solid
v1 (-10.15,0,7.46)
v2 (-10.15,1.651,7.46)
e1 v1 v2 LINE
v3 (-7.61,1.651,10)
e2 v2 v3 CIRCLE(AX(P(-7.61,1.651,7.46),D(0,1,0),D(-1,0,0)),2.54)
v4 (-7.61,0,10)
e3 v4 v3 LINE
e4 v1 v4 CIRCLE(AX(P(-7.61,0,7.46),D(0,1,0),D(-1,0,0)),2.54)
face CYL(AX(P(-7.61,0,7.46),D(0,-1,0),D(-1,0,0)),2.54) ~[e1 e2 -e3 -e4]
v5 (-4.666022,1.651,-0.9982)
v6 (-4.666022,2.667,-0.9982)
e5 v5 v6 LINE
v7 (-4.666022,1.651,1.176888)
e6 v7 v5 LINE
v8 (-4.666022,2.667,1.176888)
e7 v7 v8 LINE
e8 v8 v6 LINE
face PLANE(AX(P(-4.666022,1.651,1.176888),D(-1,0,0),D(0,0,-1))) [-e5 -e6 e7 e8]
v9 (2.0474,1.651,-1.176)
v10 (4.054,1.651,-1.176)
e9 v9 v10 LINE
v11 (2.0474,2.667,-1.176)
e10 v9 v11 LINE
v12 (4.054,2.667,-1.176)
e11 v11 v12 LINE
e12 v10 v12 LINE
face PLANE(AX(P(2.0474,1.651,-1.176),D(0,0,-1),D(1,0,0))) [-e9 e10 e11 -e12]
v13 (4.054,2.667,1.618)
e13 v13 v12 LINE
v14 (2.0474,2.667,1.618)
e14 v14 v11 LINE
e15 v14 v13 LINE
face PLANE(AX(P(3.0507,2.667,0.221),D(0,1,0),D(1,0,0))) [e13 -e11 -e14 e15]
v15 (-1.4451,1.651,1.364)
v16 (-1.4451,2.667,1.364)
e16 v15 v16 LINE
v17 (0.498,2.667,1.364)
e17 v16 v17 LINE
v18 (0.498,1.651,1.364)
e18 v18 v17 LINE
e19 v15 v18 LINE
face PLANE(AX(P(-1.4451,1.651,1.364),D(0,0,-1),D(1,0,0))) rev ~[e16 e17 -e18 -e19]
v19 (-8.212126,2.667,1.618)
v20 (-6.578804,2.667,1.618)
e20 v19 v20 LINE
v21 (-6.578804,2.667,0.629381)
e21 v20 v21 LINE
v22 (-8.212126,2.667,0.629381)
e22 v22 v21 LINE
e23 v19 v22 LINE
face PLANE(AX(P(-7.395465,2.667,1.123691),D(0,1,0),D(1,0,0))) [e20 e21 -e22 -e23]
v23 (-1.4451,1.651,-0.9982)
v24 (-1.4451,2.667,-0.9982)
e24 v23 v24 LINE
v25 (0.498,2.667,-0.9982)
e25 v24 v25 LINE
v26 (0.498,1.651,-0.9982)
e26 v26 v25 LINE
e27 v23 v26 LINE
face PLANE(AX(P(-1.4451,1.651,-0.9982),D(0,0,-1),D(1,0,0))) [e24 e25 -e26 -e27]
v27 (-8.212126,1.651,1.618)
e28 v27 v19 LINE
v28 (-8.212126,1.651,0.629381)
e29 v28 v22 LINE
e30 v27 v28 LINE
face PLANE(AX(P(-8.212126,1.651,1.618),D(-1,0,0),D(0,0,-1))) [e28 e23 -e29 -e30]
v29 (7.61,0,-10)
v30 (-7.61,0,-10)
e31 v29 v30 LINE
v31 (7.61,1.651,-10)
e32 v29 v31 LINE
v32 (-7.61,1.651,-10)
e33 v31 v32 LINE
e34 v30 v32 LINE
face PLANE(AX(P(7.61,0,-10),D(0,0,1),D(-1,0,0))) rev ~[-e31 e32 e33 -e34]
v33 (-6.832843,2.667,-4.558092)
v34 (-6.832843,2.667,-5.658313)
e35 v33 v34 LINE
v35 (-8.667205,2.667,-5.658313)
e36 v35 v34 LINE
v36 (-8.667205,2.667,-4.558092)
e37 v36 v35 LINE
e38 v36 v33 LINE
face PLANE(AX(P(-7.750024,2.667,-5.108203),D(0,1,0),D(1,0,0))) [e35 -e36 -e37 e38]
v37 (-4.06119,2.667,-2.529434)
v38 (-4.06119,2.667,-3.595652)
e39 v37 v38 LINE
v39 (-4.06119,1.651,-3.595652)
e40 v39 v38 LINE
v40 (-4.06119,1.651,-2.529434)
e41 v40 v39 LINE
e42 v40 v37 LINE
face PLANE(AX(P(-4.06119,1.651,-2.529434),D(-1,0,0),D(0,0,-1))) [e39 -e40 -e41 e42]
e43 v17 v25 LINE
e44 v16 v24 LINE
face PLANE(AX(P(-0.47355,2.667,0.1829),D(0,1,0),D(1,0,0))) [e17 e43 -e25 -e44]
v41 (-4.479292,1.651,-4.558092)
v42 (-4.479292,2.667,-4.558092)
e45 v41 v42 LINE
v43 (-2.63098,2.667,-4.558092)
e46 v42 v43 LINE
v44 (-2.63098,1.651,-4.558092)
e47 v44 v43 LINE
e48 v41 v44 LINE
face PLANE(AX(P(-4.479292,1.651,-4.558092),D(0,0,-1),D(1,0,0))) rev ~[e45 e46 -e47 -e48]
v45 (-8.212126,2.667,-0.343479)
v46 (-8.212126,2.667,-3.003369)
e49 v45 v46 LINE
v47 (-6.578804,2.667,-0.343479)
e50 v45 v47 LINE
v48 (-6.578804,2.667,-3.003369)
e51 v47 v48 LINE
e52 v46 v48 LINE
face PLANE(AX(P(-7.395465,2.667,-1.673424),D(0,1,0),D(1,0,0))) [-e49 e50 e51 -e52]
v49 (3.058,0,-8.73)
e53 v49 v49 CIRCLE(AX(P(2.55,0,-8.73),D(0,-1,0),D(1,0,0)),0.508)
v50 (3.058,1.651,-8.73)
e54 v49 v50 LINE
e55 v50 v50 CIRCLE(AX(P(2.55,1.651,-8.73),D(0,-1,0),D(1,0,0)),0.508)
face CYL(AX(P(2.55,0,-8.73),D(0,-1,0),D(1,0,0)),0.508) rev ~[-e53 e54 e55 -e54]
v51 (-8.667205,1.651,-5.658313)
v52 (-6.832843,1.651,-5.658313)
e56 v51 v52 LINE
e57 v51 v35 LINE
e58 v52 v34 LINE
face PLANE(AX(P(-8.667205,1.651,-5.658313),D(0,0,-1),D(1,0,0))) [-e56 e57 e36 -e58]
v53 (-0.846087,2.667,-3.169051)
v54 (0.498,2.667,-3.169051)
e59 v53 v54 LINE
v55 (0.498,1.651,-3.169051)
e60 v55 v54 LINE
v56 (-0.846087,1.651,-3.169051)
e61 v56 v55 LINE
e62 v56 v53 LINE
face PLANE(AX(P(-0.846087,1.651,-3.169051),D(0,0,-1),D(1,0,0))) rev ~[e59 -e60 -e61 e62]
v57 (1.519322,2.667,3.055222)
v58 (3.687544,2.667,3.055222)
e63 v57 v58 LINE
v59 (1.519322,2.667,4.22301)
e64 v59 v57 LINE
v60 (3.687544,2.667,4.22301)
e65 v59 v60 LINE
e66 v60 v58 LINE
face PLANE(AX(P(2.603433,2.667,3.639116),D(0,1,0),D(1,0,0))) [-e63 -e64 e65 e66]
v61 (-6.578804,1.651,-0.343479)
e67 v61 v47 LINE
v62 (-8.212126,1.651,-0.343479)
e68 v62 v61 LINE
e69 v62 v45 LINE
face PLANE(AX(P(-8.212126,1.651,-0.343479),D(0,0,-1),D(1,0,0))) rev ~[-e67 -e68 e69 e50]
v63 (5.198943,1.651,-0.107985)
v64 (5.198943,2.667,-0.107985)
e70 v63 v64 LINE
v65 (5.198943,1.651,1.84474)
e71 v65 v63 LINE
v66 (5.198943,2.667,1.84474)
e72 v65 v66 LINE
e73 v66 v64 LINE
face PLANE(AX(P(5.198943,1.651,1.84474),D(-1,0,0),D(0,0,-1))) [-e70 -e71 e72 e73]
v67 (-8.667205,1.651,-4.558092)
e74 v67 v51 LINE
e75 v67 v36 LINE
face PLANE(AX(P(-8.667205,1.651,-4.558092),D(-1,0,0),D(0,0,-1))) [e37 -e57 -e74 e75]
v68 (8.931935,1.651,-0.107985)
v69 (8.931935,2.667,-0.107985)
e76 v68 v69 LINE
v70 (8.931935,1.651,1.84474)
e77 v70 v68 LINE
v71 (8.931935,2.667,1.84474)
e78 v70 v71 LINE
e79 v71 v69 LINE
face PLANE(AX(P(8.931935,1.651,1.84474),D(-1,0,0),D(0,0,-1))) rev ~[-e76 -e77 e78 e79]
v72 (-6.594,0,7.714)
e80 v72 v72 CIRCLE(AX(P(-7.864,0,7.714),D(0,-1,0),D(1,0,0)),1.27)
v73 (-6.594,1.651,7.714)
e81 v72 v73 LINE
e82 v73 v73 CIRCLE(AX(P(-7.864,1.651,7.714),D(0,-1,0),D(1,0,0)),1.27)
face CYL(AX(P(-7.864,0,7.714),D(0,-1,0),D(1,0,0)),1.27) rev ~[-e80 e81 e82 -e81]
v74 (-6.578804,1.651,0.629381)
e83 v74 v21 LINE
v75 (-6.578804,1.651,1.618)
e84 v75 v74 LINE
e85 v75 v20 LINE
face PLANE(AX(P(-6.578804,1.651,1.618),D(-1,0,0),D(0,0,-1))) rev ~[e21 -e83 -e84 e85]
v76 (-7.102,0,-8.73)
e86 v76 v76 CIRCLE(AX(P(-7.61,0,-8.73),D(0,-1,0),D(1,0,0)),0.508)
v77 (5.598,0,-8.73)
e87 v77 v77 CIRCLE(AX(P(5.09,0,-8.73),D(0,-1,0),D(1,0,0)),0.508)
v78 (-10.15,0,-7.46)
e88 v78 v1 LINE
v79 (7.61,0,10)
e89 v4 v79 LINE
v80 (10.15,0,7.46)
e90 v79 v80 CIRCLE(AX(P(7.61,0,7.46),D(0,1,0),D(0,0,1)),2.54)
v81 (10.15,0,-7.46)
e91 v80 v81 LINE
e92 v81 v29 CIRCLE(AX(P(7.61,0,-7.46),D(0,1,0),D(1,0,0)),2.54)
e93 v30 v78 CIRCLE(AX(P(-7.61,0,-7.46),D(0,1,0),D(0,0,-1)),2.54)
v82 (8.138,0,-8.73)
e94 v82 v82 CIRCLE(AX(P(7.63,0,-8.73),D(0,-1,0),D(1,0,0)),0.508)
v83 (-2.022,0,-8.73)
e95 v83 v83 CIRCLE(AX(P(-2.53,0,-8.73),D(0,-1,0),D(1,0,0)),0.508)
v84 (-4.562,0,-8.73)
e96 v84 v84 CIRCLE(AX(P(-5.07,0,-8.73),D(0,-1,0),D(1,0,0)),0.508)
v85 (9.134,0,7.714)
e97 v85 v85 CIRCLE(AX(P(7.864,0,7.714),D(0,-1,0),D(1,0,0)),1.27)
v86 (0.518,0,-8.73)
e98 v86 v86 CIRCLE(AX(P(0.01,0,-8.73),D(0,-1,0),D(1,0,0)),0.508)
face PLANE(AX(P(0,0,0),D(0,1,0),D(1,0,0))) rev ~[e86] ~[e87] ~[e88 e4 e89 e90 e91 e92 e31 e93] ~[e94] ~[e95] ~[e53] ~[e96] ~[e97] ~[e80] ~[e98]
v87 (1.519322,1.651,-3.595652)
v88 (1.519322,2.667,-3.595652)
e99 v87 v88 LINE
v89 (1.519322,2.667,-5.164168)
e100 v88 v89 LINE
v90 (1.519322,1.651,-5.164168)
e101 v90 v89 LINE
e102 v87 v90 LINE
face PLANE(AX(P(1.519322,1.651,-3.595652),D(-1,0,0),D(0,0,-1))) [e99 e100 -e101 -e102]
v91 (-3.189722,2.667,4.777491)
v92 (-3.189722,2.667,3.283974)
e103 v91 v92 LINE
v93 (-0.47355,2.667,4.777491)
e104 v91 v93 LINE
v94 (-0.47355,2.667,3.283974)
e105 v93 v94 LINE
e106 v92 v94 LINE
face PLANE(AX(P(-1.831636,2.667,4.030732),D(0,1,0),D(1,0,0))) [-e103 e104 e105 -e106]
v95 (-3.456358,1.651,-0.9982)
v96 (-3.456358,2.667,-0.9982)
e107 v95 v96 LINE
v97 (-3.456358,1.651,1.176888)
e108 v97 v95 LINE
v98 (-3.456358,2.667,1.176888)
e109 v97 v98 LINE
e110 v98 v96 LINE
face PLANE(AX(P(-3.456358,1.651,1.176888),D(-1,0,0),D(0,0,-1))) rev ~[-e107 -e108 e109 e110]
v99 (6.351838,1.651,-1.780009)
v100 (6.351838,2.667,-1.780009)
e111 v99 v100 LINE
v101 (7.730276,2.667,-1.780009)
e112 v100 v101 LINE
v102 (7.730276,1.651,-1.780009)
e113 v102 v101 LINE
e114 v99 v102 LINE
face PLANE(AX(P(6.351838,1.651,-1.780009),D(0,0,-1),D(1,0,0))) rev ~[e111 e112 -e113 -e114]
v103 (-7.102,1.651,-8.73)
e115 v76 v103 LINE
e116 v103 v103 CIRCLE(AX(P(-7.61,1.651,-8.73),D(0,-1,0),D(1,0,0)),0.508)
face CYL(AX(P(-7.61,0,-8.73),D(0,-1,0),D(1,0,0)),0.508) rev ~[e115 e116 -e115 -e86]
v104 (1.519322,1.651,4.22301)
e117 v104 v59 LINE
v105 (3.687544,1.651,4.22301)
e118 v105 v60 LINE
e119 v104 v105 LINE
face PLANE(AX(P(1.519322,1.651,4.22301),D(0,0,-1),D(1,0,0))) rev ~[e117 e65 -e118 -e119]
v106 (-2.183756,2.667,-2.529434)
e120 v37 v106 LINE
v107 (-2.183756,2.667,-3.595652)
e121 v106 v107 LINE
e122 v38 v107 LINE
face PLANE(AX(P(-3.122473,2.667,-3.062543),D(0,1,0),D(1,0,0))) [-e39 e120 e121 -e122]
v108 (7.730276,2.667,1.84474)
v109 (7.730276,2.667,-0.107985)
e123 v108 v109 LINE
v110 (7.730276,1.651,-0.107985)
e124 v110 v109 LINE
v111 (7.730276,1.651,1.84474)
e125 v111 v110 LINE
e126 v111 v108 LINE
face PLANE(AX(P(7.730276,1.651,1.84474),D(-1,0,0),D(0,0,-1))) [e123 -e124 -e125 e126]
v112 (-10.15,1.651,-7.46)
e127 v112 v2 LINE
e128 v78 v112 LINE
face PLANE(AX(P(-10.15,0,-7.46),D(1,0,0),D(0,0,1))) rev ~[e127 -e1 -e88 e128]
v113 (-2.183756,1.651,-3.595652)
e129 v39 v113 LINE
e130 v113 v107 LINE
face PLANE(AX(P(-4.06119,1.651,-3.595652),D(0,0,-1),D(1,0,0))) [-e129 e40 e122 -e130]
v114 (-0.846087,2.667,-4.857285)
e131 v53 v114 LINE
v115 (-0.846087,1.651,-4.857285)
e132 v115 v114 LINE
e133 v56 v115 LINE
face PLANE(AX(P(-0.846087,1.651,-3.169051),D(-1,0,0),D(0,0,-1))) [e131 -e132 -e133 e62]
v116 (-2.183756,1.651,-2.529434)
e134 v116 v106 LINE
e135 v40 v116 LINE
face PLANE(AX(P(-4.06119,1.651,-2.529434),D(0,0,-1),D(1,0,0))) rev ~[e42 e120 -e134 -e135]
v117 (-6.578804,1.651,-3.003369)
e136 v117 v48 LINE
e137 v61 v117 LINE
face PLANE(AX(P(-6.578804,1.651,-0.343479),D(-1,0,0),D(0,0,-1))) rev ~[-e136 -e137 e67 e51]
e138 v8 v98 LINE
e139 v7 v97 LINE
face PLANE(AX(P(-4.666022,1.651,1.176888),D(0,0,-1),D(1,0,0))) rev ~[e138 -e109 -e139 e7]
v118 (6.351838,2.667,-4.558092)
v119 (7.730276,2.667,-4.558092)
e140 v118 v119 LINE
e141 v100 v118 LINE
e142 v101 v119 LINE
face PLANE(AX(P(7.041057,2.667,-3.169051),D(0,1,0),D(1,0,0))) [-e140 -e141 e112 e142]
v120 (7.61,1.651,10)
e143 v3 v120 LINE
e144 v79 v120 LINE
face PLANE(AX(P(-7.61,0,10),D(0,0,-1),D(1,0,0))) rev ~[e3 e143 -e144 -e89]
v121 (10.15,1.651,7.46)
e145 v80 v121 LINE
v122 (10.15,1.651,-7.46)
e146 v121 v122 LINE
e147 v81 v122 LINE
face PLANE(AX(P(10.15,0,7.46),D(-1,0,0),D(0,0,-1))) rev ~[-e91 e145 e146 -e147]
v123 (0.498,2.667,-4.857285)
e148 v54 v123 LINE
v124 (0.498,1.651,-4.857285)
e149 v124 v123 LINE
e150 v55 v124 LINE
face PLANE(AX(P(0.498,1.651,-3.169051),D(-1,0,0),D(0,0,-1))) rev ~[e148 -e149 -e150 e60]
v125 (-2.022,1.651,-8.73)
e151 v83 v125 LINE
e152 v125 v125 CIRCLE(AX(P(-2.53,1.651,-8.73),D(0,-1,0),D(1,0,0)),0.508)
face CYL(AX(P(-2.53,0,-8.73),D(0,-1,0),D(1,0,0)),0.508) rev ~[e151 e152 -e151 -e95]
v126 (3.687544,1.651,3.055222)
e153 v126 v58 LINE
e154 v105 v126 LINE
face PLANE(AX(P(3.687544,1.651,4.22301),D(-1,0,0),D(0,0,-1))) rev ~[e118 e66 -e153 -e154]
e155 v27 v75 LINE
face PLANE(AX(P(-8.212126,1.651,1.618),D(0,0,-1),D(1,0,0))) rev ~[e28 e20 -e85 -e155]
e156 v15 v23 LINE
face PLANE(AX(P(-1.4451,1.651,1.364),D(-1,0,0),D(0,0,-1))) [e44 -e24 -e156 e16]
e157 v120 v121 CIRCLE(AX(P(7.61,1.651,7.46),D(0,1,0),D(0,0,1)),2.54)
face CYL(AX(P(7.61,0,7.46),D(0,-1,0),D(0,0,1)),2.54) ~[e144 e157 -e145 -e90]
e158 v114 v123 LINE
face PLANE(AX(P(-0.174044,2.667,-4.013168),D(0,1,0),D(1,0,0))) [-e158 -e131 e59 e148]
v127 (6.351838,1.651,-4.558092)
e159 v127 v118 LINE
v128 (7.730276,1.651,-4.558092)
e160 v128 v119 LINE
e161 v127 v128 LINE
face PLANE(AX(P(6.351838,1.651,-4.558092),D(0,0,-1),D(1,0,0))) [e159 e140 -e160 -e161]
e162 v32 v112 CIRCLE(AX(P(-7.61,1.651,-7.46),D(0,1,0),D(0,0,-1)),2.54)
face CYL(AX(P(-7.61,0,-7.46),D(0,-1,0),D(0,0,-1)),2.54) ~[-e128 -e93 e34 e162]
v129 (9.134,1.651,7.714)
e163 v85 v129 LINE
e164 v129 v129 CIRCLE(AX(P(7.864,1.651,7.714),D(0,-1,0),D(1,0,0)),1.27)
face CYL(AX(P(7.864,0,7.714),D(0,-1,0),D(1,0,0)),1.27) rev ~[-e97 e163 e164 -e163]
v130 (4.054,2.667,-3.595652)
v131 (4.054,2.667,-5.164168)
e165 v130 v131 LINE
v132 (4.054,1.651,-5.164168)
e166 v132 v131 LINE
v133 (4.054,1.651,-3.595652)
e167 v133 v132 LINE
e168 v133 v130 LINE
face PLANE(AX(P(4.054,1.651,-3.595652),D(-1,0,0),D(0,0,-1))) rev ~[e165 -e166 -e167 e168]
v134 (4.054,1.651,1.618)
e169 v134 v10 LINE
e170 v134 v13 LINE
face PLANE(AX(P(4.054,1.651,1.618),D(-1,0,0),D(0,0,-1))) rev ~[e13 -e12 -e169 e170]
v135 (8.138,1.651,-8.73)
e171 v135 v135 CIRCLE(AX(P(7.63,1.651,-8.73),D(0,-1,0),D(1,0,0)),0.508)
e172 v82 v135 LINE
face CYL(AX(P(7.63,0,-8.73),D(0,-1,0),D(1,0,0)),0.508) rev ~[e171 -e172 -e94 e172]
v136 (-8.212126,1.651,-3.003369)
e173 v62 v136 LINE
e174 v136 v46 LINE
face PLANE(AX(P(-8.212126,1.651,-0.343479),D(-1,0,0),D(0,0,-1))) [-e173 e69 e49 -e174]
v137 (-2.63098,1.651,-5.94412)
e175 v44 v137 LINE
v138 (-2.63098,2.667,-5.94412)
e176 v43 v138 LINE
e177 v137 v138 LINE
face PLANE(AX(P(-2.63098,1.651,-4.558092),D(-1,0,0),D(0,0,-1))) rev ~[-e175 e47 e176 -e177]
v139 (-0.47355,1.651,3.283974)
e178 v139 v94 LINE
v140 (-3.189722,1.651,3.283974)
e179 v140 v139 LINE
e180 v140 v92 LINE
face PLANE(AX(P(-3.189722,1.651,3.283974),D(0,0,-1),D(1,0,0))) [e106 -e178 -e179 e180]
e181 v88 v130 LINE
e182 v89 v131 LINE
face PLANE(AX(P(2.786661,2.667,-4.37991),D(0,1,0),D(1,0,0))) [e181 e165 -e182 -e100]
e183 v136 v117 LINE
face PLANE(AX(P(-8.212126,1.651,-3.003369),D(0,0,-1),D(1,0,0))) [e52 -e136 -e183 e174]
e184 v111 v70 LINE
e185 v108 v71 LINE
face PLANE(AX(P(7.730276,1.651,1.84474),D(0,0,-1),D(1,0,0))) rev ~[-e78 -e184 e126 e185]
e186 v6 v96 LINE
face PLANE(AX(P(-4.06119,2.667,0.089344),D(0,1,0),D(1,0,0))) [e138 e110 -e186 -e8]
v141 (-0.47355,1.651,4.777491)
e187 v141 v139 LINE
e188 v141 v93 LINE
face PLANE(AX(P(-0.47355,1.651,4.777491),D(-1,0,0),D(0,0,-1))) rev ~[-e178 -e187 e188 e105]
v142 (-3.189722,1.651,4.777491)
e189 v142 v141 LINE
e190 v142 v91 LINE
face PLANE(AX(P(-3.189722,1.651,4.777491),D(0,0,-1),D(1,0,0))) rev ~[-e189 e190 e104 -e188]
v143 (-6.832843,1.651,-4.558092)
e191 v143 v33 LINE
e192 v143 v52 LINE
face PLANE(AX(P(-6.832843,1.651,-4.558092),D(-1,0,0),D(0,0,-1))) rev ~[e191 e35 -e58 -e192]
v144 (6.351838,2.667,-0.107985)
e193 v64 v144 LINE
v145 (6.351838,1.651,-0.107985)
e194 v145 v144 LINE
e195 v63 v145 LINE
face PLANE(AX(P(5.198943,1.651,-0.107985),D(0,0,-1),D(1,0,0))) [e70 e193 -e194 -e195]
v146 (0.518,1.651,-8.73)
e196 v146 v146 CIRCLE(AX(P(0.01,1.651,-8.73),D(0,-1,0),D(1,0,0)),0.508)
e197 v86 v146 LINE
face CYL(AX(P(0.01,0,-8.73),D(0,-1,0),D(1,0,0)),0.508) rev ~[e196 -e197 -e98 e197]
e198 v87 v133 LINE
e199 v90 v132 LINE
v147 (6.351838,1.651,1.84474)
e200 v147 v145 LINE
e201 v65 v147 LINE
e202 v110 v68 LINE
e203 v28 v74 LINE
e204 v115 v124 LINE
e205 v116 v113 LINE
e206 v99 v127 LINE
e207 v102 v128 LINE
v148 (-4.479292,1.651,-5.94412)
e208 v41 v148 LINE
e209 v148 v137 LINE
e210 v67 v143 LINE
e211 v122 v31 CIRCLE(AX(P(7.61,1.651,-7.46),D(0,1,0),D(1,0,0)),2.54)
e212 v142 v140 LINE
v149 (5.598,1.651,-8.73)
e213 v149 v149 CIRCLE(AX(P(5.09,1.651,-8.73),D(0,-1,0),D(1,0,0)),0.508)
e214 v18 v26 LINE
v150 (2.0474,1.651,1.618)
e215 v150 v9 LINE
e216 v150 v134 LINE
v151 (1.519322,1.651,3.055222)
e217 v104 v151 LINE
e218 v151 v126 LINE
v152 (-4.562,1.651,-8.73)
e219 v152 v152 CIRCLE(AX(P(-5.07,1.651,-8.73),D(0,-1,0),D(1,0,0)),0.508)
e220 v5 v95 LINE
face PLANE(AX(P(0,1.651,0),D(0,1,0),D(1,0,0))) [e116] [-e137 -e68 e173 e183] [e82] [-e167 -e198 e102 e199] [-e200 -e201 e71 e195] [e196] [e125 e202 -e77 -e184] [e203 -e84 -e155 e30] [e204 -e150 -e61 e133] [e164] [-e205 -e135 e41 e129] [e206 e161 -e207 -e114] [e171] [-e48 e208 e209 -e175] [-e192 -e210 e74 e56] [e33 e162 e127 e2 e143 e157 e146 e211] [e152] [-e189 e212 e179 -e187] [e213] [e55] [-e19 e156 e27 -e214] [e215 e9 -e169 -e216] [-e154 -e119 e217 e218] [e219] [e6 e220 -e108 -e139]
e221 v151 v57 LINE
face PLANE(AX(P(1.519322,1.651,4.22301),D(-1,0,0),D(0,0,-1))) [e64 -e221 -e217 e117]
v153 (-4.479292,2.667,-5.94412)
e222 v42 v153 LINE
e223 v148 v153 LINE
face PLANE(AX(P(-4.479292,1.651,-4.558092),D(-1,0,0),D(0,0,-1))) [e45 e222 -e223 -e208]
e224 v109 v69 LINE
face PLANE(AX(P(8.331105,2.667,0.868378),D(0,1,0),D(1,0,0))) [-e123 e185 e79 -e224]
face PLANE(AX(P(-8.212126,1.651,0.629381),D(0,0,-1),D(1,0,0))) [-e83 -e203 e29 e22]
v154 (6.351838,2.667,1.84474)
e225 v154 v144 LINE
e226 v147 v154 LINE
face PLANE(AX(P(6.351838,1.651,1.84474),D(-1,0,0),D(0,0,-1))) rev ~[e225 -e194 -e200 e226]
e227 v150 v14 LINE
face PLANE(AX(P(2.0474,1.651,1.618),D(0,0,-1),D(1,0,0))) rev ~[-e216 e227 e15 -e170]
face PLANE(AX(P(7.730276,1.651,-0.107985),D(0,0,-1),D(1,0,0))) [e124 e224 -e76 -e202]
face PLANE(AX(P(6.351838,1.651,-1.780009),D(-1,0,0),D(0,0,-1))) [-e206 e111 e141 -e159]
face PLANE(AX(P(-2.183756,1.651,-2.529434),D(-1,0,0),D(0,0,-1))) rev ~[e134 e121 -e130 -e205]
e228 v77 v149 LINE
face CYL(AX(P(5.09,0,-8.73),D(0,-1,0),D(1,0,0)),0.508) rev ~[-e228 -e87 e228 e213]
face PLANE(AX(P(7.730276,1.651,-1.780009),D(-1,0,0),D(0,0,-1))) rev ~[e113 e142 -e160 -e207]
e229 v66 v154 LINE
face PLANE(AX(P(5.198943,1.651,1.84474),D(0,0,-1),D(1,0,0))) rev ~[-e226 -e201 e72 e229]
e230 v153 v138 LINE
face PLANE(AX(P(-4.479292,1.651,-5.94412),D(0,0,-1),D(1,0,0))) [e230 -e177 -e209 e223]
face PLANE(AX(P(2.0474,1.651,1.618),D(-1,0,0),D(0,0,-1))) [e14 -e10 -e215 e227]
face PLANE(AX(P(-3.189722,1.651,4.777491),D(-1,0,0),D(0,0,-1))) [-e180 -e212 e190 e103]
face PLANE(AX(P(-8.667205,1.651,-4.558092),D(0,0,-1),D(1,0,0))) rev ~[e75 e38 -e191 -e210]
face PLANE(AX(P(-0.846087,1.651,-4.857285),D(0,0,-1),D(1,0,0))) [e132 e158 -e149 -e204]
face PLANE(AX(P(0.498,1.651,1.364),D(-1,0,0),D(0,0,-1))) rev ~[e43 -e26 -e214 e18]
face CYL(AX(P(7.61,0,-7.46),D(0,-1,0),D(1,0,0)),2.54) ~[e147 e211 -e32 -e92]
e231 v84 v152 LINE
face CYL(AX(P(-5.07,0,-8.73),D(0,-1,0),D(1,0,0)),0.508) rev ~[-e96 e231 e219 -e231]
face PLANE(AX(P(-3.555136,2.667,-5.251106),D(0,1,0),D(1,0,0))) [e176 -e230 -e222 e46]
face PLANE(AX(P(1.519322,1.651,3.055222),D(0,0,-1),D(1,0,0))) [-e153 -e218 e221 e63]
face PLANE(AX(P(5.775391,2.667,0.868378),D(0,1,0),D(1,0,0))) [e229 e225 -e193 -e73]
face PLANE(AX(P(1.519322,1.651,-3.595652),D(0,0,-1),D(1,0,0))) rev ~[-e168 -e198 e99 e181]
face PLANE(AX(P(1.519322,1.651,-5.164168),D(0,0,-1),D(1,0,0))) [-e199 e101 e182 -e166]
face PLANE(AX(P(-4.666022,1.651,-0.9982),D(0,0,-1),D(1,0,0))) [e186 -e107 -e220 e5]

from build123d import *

# Parameters (mm, degrees)
PCB_DEPTH          = 1.651
SKETCH2_R          = 1.27
SKETCH2_R_2        = 0.508
CUT_EXTRUDE1_DEPTH = 2.651
SKETCH3_W          = 1.9431
SKETCH3_H          = 2.3622
SKETCH3_W_2        = 2.0066
SKETCH3_H_2        = 2.794
SKETCH3_W_3        = 2.16822249
SKETCH3_H_3        = 1.167787324
SKETCH3_W_4        = 2.716171955
SKETCH3_H_4        = 1.493517176
SKETCH3_W_5        = 1.209663862
SKETCH3_H_5        = 2.17508788
SKETCH3_W_6        = 1.633321627
SKETCH3_H_6        = 2.659890245
SKETCH3_W_7        = 1.834361491
SKETCH3_H_7        = 1.100221283
SKETCH3_W_8        = 1.848311781
SKETCH3_H_8        = 1.38602823
SKETCH3_W_9        = 1.877433771
SKETCH3_H_9        = 1.066217503
SKETCH3_H_10       = 0.988618516
SKETCH3_W_10       = 1.152895283
SKETCH3_H_11       = 1.952725423
SKETCH3_W_11       = 1.201658639
SKETCH3_W_12       = 1.378437796
SKETCH3_H_12       = 2.778082819
SKETCH3_W_13       = 2.534678464
SKETCH3_H_13       = 1.568516227
SKETCH3_W_14       = 1.344087022
SKETCH3_H_14       = 1.688234225
COMPONENTS_DEPTH   = 1.016


with BuildPart() as part:
    # Sketch1 → pcb (new body)
    with BuildSketch(Plane(origin=(0, 0, 0), x_dir=(1, 0, 0), z_dir=(0, 1, 0))):
        with BuildLine():
            Line((-7.61, -10), (7.61, -10))
            ThreePointArc((7.61, -10), (9.406051224, -9.256051224), (10.15, -7.46))
            Line((10.15, -7.46), (10.15, 7.46))
            ThreePointArc((10.15, 7.46), (9.406051224, 9.256051224), (7.61, 10))
            Line((7.61, 10), (-7.61, 10))
            ThreePointArc((-7.61, 10), (-9.406051224, 9.256051224), (-10.15, 7.46))
            Line((-10.15, 7.46), (-10.15, -7.46))
            ThreePointArc((-10.15, -7.46), (-9.406051224, -9.256051224), (-7.61, -10))
        make_face()
    extrude(amount=PCB_DEPTH)

    # Sketch2 → Cut-Extrude1 (cut, through all)
    with BuildSketch(Plane.XZ):
        with Locations((-7.864, 7.714)):
            Circle(SKETCH2_R)
        with Locations((7.864, 7.714)):
            Circle(SKETCH2_R)
        with Locations((-7.61, -8.73)):
            Circle(SKETCH2_R_2)
        with Locations((-5.07, -8.73)):
            Circle(SKETCH2_R_2)
        with Locations((-2.53, -8.73)):
            Circle(SKETCH2_R_2)
        with Locations((0.01, -8.73)):
            Circle(SKETCH2_R_2)
        with Locations((2.55, -8.73)):
            Circle(SKETCH2_R_2)
        with Locations((5.09, -8.73)):
            Circle(SKETCH2_R_2)
        with Locations((7.63, -8.73)):
            Circle(SKETCH2_R_2)
    extrude(amount=-CUT_EXTRUDE1_DEPTH, mode=Mode.SUBTRACT)

    # Sketch3 → components (add)
    with BuildSketch(Plane(origin=(0, 1.651, 0), x_dir=(1, 0, 0), z_dir=(0, 1, 0))):
        with Locations((-0.47355, -0.1829)):
            Rectangle(SKETCH3_W, SKETCH3_H)
        with Locations((3.0507, -0.221)):
            Rectangle(SKETCH3_W_2, SKETCH3_H_2)
        with Locations((2.603432781, -3.639116092)):
            Rectangle(SKETCH3_W_3, SKETCH3_H_3)
        with Locations((-1.831635977, -4.030732119)):
            Rectangle(SKETCH3_W_4, SKETCH3_H_4)
        with Locations((-4.061190046, -0.08934394)):
            Rectangle(SKETCH3_W_5, SKETCH3_H_5)
        with Locations((-7.395465276, 1.673424229)):
            Rectangle(SKETCH3_W_6, SKETCH3_H_6)
        with Locations((-7.750024191, 5.108202568)):
            Rectangle(SKETCH3_W_7, SKETCH3_H_7)
        with Locations((-3.555135742, 5.251106041)):
            Rectangle(SKETCH3_W_8, SKETCH3_H_8)
        with Locations((-3.122473161, 3.062543074)):
            Rectangle(SKETCH3_W_9, SKETCH3_H_9)
        with Locations((-7.395465276, -1.123690742)):
            Rectangle(SKETCH3_W_6, SKETCH3_H_10)
        with Locations((5.77539067, -0.868377737)):
            Rectangle(SKETCH3_W_10, SKETCH3_H_11)
        with Locations((8.331105427, -0.868377737)):
            Rectangle(SKETCH3_W_11, SKETCH3_H_11)
        with Locations((7.041057209, 3.169050517)):
            Rectangle(SKETCH3_W_12, SKETCH3_H_12)
        with Locations((2.786660768, 4.379909938)):
            Rectangle(SKETCH3_W_13, SKETCH3_H_13)
        with Locations((-0.174043511, 4.013167629)):
            Rectangle(SKETCH3_W_14, SKETCH3_H_14)
    extrude(amount=COMPONENTS_DEPTH)


solid = part.part
